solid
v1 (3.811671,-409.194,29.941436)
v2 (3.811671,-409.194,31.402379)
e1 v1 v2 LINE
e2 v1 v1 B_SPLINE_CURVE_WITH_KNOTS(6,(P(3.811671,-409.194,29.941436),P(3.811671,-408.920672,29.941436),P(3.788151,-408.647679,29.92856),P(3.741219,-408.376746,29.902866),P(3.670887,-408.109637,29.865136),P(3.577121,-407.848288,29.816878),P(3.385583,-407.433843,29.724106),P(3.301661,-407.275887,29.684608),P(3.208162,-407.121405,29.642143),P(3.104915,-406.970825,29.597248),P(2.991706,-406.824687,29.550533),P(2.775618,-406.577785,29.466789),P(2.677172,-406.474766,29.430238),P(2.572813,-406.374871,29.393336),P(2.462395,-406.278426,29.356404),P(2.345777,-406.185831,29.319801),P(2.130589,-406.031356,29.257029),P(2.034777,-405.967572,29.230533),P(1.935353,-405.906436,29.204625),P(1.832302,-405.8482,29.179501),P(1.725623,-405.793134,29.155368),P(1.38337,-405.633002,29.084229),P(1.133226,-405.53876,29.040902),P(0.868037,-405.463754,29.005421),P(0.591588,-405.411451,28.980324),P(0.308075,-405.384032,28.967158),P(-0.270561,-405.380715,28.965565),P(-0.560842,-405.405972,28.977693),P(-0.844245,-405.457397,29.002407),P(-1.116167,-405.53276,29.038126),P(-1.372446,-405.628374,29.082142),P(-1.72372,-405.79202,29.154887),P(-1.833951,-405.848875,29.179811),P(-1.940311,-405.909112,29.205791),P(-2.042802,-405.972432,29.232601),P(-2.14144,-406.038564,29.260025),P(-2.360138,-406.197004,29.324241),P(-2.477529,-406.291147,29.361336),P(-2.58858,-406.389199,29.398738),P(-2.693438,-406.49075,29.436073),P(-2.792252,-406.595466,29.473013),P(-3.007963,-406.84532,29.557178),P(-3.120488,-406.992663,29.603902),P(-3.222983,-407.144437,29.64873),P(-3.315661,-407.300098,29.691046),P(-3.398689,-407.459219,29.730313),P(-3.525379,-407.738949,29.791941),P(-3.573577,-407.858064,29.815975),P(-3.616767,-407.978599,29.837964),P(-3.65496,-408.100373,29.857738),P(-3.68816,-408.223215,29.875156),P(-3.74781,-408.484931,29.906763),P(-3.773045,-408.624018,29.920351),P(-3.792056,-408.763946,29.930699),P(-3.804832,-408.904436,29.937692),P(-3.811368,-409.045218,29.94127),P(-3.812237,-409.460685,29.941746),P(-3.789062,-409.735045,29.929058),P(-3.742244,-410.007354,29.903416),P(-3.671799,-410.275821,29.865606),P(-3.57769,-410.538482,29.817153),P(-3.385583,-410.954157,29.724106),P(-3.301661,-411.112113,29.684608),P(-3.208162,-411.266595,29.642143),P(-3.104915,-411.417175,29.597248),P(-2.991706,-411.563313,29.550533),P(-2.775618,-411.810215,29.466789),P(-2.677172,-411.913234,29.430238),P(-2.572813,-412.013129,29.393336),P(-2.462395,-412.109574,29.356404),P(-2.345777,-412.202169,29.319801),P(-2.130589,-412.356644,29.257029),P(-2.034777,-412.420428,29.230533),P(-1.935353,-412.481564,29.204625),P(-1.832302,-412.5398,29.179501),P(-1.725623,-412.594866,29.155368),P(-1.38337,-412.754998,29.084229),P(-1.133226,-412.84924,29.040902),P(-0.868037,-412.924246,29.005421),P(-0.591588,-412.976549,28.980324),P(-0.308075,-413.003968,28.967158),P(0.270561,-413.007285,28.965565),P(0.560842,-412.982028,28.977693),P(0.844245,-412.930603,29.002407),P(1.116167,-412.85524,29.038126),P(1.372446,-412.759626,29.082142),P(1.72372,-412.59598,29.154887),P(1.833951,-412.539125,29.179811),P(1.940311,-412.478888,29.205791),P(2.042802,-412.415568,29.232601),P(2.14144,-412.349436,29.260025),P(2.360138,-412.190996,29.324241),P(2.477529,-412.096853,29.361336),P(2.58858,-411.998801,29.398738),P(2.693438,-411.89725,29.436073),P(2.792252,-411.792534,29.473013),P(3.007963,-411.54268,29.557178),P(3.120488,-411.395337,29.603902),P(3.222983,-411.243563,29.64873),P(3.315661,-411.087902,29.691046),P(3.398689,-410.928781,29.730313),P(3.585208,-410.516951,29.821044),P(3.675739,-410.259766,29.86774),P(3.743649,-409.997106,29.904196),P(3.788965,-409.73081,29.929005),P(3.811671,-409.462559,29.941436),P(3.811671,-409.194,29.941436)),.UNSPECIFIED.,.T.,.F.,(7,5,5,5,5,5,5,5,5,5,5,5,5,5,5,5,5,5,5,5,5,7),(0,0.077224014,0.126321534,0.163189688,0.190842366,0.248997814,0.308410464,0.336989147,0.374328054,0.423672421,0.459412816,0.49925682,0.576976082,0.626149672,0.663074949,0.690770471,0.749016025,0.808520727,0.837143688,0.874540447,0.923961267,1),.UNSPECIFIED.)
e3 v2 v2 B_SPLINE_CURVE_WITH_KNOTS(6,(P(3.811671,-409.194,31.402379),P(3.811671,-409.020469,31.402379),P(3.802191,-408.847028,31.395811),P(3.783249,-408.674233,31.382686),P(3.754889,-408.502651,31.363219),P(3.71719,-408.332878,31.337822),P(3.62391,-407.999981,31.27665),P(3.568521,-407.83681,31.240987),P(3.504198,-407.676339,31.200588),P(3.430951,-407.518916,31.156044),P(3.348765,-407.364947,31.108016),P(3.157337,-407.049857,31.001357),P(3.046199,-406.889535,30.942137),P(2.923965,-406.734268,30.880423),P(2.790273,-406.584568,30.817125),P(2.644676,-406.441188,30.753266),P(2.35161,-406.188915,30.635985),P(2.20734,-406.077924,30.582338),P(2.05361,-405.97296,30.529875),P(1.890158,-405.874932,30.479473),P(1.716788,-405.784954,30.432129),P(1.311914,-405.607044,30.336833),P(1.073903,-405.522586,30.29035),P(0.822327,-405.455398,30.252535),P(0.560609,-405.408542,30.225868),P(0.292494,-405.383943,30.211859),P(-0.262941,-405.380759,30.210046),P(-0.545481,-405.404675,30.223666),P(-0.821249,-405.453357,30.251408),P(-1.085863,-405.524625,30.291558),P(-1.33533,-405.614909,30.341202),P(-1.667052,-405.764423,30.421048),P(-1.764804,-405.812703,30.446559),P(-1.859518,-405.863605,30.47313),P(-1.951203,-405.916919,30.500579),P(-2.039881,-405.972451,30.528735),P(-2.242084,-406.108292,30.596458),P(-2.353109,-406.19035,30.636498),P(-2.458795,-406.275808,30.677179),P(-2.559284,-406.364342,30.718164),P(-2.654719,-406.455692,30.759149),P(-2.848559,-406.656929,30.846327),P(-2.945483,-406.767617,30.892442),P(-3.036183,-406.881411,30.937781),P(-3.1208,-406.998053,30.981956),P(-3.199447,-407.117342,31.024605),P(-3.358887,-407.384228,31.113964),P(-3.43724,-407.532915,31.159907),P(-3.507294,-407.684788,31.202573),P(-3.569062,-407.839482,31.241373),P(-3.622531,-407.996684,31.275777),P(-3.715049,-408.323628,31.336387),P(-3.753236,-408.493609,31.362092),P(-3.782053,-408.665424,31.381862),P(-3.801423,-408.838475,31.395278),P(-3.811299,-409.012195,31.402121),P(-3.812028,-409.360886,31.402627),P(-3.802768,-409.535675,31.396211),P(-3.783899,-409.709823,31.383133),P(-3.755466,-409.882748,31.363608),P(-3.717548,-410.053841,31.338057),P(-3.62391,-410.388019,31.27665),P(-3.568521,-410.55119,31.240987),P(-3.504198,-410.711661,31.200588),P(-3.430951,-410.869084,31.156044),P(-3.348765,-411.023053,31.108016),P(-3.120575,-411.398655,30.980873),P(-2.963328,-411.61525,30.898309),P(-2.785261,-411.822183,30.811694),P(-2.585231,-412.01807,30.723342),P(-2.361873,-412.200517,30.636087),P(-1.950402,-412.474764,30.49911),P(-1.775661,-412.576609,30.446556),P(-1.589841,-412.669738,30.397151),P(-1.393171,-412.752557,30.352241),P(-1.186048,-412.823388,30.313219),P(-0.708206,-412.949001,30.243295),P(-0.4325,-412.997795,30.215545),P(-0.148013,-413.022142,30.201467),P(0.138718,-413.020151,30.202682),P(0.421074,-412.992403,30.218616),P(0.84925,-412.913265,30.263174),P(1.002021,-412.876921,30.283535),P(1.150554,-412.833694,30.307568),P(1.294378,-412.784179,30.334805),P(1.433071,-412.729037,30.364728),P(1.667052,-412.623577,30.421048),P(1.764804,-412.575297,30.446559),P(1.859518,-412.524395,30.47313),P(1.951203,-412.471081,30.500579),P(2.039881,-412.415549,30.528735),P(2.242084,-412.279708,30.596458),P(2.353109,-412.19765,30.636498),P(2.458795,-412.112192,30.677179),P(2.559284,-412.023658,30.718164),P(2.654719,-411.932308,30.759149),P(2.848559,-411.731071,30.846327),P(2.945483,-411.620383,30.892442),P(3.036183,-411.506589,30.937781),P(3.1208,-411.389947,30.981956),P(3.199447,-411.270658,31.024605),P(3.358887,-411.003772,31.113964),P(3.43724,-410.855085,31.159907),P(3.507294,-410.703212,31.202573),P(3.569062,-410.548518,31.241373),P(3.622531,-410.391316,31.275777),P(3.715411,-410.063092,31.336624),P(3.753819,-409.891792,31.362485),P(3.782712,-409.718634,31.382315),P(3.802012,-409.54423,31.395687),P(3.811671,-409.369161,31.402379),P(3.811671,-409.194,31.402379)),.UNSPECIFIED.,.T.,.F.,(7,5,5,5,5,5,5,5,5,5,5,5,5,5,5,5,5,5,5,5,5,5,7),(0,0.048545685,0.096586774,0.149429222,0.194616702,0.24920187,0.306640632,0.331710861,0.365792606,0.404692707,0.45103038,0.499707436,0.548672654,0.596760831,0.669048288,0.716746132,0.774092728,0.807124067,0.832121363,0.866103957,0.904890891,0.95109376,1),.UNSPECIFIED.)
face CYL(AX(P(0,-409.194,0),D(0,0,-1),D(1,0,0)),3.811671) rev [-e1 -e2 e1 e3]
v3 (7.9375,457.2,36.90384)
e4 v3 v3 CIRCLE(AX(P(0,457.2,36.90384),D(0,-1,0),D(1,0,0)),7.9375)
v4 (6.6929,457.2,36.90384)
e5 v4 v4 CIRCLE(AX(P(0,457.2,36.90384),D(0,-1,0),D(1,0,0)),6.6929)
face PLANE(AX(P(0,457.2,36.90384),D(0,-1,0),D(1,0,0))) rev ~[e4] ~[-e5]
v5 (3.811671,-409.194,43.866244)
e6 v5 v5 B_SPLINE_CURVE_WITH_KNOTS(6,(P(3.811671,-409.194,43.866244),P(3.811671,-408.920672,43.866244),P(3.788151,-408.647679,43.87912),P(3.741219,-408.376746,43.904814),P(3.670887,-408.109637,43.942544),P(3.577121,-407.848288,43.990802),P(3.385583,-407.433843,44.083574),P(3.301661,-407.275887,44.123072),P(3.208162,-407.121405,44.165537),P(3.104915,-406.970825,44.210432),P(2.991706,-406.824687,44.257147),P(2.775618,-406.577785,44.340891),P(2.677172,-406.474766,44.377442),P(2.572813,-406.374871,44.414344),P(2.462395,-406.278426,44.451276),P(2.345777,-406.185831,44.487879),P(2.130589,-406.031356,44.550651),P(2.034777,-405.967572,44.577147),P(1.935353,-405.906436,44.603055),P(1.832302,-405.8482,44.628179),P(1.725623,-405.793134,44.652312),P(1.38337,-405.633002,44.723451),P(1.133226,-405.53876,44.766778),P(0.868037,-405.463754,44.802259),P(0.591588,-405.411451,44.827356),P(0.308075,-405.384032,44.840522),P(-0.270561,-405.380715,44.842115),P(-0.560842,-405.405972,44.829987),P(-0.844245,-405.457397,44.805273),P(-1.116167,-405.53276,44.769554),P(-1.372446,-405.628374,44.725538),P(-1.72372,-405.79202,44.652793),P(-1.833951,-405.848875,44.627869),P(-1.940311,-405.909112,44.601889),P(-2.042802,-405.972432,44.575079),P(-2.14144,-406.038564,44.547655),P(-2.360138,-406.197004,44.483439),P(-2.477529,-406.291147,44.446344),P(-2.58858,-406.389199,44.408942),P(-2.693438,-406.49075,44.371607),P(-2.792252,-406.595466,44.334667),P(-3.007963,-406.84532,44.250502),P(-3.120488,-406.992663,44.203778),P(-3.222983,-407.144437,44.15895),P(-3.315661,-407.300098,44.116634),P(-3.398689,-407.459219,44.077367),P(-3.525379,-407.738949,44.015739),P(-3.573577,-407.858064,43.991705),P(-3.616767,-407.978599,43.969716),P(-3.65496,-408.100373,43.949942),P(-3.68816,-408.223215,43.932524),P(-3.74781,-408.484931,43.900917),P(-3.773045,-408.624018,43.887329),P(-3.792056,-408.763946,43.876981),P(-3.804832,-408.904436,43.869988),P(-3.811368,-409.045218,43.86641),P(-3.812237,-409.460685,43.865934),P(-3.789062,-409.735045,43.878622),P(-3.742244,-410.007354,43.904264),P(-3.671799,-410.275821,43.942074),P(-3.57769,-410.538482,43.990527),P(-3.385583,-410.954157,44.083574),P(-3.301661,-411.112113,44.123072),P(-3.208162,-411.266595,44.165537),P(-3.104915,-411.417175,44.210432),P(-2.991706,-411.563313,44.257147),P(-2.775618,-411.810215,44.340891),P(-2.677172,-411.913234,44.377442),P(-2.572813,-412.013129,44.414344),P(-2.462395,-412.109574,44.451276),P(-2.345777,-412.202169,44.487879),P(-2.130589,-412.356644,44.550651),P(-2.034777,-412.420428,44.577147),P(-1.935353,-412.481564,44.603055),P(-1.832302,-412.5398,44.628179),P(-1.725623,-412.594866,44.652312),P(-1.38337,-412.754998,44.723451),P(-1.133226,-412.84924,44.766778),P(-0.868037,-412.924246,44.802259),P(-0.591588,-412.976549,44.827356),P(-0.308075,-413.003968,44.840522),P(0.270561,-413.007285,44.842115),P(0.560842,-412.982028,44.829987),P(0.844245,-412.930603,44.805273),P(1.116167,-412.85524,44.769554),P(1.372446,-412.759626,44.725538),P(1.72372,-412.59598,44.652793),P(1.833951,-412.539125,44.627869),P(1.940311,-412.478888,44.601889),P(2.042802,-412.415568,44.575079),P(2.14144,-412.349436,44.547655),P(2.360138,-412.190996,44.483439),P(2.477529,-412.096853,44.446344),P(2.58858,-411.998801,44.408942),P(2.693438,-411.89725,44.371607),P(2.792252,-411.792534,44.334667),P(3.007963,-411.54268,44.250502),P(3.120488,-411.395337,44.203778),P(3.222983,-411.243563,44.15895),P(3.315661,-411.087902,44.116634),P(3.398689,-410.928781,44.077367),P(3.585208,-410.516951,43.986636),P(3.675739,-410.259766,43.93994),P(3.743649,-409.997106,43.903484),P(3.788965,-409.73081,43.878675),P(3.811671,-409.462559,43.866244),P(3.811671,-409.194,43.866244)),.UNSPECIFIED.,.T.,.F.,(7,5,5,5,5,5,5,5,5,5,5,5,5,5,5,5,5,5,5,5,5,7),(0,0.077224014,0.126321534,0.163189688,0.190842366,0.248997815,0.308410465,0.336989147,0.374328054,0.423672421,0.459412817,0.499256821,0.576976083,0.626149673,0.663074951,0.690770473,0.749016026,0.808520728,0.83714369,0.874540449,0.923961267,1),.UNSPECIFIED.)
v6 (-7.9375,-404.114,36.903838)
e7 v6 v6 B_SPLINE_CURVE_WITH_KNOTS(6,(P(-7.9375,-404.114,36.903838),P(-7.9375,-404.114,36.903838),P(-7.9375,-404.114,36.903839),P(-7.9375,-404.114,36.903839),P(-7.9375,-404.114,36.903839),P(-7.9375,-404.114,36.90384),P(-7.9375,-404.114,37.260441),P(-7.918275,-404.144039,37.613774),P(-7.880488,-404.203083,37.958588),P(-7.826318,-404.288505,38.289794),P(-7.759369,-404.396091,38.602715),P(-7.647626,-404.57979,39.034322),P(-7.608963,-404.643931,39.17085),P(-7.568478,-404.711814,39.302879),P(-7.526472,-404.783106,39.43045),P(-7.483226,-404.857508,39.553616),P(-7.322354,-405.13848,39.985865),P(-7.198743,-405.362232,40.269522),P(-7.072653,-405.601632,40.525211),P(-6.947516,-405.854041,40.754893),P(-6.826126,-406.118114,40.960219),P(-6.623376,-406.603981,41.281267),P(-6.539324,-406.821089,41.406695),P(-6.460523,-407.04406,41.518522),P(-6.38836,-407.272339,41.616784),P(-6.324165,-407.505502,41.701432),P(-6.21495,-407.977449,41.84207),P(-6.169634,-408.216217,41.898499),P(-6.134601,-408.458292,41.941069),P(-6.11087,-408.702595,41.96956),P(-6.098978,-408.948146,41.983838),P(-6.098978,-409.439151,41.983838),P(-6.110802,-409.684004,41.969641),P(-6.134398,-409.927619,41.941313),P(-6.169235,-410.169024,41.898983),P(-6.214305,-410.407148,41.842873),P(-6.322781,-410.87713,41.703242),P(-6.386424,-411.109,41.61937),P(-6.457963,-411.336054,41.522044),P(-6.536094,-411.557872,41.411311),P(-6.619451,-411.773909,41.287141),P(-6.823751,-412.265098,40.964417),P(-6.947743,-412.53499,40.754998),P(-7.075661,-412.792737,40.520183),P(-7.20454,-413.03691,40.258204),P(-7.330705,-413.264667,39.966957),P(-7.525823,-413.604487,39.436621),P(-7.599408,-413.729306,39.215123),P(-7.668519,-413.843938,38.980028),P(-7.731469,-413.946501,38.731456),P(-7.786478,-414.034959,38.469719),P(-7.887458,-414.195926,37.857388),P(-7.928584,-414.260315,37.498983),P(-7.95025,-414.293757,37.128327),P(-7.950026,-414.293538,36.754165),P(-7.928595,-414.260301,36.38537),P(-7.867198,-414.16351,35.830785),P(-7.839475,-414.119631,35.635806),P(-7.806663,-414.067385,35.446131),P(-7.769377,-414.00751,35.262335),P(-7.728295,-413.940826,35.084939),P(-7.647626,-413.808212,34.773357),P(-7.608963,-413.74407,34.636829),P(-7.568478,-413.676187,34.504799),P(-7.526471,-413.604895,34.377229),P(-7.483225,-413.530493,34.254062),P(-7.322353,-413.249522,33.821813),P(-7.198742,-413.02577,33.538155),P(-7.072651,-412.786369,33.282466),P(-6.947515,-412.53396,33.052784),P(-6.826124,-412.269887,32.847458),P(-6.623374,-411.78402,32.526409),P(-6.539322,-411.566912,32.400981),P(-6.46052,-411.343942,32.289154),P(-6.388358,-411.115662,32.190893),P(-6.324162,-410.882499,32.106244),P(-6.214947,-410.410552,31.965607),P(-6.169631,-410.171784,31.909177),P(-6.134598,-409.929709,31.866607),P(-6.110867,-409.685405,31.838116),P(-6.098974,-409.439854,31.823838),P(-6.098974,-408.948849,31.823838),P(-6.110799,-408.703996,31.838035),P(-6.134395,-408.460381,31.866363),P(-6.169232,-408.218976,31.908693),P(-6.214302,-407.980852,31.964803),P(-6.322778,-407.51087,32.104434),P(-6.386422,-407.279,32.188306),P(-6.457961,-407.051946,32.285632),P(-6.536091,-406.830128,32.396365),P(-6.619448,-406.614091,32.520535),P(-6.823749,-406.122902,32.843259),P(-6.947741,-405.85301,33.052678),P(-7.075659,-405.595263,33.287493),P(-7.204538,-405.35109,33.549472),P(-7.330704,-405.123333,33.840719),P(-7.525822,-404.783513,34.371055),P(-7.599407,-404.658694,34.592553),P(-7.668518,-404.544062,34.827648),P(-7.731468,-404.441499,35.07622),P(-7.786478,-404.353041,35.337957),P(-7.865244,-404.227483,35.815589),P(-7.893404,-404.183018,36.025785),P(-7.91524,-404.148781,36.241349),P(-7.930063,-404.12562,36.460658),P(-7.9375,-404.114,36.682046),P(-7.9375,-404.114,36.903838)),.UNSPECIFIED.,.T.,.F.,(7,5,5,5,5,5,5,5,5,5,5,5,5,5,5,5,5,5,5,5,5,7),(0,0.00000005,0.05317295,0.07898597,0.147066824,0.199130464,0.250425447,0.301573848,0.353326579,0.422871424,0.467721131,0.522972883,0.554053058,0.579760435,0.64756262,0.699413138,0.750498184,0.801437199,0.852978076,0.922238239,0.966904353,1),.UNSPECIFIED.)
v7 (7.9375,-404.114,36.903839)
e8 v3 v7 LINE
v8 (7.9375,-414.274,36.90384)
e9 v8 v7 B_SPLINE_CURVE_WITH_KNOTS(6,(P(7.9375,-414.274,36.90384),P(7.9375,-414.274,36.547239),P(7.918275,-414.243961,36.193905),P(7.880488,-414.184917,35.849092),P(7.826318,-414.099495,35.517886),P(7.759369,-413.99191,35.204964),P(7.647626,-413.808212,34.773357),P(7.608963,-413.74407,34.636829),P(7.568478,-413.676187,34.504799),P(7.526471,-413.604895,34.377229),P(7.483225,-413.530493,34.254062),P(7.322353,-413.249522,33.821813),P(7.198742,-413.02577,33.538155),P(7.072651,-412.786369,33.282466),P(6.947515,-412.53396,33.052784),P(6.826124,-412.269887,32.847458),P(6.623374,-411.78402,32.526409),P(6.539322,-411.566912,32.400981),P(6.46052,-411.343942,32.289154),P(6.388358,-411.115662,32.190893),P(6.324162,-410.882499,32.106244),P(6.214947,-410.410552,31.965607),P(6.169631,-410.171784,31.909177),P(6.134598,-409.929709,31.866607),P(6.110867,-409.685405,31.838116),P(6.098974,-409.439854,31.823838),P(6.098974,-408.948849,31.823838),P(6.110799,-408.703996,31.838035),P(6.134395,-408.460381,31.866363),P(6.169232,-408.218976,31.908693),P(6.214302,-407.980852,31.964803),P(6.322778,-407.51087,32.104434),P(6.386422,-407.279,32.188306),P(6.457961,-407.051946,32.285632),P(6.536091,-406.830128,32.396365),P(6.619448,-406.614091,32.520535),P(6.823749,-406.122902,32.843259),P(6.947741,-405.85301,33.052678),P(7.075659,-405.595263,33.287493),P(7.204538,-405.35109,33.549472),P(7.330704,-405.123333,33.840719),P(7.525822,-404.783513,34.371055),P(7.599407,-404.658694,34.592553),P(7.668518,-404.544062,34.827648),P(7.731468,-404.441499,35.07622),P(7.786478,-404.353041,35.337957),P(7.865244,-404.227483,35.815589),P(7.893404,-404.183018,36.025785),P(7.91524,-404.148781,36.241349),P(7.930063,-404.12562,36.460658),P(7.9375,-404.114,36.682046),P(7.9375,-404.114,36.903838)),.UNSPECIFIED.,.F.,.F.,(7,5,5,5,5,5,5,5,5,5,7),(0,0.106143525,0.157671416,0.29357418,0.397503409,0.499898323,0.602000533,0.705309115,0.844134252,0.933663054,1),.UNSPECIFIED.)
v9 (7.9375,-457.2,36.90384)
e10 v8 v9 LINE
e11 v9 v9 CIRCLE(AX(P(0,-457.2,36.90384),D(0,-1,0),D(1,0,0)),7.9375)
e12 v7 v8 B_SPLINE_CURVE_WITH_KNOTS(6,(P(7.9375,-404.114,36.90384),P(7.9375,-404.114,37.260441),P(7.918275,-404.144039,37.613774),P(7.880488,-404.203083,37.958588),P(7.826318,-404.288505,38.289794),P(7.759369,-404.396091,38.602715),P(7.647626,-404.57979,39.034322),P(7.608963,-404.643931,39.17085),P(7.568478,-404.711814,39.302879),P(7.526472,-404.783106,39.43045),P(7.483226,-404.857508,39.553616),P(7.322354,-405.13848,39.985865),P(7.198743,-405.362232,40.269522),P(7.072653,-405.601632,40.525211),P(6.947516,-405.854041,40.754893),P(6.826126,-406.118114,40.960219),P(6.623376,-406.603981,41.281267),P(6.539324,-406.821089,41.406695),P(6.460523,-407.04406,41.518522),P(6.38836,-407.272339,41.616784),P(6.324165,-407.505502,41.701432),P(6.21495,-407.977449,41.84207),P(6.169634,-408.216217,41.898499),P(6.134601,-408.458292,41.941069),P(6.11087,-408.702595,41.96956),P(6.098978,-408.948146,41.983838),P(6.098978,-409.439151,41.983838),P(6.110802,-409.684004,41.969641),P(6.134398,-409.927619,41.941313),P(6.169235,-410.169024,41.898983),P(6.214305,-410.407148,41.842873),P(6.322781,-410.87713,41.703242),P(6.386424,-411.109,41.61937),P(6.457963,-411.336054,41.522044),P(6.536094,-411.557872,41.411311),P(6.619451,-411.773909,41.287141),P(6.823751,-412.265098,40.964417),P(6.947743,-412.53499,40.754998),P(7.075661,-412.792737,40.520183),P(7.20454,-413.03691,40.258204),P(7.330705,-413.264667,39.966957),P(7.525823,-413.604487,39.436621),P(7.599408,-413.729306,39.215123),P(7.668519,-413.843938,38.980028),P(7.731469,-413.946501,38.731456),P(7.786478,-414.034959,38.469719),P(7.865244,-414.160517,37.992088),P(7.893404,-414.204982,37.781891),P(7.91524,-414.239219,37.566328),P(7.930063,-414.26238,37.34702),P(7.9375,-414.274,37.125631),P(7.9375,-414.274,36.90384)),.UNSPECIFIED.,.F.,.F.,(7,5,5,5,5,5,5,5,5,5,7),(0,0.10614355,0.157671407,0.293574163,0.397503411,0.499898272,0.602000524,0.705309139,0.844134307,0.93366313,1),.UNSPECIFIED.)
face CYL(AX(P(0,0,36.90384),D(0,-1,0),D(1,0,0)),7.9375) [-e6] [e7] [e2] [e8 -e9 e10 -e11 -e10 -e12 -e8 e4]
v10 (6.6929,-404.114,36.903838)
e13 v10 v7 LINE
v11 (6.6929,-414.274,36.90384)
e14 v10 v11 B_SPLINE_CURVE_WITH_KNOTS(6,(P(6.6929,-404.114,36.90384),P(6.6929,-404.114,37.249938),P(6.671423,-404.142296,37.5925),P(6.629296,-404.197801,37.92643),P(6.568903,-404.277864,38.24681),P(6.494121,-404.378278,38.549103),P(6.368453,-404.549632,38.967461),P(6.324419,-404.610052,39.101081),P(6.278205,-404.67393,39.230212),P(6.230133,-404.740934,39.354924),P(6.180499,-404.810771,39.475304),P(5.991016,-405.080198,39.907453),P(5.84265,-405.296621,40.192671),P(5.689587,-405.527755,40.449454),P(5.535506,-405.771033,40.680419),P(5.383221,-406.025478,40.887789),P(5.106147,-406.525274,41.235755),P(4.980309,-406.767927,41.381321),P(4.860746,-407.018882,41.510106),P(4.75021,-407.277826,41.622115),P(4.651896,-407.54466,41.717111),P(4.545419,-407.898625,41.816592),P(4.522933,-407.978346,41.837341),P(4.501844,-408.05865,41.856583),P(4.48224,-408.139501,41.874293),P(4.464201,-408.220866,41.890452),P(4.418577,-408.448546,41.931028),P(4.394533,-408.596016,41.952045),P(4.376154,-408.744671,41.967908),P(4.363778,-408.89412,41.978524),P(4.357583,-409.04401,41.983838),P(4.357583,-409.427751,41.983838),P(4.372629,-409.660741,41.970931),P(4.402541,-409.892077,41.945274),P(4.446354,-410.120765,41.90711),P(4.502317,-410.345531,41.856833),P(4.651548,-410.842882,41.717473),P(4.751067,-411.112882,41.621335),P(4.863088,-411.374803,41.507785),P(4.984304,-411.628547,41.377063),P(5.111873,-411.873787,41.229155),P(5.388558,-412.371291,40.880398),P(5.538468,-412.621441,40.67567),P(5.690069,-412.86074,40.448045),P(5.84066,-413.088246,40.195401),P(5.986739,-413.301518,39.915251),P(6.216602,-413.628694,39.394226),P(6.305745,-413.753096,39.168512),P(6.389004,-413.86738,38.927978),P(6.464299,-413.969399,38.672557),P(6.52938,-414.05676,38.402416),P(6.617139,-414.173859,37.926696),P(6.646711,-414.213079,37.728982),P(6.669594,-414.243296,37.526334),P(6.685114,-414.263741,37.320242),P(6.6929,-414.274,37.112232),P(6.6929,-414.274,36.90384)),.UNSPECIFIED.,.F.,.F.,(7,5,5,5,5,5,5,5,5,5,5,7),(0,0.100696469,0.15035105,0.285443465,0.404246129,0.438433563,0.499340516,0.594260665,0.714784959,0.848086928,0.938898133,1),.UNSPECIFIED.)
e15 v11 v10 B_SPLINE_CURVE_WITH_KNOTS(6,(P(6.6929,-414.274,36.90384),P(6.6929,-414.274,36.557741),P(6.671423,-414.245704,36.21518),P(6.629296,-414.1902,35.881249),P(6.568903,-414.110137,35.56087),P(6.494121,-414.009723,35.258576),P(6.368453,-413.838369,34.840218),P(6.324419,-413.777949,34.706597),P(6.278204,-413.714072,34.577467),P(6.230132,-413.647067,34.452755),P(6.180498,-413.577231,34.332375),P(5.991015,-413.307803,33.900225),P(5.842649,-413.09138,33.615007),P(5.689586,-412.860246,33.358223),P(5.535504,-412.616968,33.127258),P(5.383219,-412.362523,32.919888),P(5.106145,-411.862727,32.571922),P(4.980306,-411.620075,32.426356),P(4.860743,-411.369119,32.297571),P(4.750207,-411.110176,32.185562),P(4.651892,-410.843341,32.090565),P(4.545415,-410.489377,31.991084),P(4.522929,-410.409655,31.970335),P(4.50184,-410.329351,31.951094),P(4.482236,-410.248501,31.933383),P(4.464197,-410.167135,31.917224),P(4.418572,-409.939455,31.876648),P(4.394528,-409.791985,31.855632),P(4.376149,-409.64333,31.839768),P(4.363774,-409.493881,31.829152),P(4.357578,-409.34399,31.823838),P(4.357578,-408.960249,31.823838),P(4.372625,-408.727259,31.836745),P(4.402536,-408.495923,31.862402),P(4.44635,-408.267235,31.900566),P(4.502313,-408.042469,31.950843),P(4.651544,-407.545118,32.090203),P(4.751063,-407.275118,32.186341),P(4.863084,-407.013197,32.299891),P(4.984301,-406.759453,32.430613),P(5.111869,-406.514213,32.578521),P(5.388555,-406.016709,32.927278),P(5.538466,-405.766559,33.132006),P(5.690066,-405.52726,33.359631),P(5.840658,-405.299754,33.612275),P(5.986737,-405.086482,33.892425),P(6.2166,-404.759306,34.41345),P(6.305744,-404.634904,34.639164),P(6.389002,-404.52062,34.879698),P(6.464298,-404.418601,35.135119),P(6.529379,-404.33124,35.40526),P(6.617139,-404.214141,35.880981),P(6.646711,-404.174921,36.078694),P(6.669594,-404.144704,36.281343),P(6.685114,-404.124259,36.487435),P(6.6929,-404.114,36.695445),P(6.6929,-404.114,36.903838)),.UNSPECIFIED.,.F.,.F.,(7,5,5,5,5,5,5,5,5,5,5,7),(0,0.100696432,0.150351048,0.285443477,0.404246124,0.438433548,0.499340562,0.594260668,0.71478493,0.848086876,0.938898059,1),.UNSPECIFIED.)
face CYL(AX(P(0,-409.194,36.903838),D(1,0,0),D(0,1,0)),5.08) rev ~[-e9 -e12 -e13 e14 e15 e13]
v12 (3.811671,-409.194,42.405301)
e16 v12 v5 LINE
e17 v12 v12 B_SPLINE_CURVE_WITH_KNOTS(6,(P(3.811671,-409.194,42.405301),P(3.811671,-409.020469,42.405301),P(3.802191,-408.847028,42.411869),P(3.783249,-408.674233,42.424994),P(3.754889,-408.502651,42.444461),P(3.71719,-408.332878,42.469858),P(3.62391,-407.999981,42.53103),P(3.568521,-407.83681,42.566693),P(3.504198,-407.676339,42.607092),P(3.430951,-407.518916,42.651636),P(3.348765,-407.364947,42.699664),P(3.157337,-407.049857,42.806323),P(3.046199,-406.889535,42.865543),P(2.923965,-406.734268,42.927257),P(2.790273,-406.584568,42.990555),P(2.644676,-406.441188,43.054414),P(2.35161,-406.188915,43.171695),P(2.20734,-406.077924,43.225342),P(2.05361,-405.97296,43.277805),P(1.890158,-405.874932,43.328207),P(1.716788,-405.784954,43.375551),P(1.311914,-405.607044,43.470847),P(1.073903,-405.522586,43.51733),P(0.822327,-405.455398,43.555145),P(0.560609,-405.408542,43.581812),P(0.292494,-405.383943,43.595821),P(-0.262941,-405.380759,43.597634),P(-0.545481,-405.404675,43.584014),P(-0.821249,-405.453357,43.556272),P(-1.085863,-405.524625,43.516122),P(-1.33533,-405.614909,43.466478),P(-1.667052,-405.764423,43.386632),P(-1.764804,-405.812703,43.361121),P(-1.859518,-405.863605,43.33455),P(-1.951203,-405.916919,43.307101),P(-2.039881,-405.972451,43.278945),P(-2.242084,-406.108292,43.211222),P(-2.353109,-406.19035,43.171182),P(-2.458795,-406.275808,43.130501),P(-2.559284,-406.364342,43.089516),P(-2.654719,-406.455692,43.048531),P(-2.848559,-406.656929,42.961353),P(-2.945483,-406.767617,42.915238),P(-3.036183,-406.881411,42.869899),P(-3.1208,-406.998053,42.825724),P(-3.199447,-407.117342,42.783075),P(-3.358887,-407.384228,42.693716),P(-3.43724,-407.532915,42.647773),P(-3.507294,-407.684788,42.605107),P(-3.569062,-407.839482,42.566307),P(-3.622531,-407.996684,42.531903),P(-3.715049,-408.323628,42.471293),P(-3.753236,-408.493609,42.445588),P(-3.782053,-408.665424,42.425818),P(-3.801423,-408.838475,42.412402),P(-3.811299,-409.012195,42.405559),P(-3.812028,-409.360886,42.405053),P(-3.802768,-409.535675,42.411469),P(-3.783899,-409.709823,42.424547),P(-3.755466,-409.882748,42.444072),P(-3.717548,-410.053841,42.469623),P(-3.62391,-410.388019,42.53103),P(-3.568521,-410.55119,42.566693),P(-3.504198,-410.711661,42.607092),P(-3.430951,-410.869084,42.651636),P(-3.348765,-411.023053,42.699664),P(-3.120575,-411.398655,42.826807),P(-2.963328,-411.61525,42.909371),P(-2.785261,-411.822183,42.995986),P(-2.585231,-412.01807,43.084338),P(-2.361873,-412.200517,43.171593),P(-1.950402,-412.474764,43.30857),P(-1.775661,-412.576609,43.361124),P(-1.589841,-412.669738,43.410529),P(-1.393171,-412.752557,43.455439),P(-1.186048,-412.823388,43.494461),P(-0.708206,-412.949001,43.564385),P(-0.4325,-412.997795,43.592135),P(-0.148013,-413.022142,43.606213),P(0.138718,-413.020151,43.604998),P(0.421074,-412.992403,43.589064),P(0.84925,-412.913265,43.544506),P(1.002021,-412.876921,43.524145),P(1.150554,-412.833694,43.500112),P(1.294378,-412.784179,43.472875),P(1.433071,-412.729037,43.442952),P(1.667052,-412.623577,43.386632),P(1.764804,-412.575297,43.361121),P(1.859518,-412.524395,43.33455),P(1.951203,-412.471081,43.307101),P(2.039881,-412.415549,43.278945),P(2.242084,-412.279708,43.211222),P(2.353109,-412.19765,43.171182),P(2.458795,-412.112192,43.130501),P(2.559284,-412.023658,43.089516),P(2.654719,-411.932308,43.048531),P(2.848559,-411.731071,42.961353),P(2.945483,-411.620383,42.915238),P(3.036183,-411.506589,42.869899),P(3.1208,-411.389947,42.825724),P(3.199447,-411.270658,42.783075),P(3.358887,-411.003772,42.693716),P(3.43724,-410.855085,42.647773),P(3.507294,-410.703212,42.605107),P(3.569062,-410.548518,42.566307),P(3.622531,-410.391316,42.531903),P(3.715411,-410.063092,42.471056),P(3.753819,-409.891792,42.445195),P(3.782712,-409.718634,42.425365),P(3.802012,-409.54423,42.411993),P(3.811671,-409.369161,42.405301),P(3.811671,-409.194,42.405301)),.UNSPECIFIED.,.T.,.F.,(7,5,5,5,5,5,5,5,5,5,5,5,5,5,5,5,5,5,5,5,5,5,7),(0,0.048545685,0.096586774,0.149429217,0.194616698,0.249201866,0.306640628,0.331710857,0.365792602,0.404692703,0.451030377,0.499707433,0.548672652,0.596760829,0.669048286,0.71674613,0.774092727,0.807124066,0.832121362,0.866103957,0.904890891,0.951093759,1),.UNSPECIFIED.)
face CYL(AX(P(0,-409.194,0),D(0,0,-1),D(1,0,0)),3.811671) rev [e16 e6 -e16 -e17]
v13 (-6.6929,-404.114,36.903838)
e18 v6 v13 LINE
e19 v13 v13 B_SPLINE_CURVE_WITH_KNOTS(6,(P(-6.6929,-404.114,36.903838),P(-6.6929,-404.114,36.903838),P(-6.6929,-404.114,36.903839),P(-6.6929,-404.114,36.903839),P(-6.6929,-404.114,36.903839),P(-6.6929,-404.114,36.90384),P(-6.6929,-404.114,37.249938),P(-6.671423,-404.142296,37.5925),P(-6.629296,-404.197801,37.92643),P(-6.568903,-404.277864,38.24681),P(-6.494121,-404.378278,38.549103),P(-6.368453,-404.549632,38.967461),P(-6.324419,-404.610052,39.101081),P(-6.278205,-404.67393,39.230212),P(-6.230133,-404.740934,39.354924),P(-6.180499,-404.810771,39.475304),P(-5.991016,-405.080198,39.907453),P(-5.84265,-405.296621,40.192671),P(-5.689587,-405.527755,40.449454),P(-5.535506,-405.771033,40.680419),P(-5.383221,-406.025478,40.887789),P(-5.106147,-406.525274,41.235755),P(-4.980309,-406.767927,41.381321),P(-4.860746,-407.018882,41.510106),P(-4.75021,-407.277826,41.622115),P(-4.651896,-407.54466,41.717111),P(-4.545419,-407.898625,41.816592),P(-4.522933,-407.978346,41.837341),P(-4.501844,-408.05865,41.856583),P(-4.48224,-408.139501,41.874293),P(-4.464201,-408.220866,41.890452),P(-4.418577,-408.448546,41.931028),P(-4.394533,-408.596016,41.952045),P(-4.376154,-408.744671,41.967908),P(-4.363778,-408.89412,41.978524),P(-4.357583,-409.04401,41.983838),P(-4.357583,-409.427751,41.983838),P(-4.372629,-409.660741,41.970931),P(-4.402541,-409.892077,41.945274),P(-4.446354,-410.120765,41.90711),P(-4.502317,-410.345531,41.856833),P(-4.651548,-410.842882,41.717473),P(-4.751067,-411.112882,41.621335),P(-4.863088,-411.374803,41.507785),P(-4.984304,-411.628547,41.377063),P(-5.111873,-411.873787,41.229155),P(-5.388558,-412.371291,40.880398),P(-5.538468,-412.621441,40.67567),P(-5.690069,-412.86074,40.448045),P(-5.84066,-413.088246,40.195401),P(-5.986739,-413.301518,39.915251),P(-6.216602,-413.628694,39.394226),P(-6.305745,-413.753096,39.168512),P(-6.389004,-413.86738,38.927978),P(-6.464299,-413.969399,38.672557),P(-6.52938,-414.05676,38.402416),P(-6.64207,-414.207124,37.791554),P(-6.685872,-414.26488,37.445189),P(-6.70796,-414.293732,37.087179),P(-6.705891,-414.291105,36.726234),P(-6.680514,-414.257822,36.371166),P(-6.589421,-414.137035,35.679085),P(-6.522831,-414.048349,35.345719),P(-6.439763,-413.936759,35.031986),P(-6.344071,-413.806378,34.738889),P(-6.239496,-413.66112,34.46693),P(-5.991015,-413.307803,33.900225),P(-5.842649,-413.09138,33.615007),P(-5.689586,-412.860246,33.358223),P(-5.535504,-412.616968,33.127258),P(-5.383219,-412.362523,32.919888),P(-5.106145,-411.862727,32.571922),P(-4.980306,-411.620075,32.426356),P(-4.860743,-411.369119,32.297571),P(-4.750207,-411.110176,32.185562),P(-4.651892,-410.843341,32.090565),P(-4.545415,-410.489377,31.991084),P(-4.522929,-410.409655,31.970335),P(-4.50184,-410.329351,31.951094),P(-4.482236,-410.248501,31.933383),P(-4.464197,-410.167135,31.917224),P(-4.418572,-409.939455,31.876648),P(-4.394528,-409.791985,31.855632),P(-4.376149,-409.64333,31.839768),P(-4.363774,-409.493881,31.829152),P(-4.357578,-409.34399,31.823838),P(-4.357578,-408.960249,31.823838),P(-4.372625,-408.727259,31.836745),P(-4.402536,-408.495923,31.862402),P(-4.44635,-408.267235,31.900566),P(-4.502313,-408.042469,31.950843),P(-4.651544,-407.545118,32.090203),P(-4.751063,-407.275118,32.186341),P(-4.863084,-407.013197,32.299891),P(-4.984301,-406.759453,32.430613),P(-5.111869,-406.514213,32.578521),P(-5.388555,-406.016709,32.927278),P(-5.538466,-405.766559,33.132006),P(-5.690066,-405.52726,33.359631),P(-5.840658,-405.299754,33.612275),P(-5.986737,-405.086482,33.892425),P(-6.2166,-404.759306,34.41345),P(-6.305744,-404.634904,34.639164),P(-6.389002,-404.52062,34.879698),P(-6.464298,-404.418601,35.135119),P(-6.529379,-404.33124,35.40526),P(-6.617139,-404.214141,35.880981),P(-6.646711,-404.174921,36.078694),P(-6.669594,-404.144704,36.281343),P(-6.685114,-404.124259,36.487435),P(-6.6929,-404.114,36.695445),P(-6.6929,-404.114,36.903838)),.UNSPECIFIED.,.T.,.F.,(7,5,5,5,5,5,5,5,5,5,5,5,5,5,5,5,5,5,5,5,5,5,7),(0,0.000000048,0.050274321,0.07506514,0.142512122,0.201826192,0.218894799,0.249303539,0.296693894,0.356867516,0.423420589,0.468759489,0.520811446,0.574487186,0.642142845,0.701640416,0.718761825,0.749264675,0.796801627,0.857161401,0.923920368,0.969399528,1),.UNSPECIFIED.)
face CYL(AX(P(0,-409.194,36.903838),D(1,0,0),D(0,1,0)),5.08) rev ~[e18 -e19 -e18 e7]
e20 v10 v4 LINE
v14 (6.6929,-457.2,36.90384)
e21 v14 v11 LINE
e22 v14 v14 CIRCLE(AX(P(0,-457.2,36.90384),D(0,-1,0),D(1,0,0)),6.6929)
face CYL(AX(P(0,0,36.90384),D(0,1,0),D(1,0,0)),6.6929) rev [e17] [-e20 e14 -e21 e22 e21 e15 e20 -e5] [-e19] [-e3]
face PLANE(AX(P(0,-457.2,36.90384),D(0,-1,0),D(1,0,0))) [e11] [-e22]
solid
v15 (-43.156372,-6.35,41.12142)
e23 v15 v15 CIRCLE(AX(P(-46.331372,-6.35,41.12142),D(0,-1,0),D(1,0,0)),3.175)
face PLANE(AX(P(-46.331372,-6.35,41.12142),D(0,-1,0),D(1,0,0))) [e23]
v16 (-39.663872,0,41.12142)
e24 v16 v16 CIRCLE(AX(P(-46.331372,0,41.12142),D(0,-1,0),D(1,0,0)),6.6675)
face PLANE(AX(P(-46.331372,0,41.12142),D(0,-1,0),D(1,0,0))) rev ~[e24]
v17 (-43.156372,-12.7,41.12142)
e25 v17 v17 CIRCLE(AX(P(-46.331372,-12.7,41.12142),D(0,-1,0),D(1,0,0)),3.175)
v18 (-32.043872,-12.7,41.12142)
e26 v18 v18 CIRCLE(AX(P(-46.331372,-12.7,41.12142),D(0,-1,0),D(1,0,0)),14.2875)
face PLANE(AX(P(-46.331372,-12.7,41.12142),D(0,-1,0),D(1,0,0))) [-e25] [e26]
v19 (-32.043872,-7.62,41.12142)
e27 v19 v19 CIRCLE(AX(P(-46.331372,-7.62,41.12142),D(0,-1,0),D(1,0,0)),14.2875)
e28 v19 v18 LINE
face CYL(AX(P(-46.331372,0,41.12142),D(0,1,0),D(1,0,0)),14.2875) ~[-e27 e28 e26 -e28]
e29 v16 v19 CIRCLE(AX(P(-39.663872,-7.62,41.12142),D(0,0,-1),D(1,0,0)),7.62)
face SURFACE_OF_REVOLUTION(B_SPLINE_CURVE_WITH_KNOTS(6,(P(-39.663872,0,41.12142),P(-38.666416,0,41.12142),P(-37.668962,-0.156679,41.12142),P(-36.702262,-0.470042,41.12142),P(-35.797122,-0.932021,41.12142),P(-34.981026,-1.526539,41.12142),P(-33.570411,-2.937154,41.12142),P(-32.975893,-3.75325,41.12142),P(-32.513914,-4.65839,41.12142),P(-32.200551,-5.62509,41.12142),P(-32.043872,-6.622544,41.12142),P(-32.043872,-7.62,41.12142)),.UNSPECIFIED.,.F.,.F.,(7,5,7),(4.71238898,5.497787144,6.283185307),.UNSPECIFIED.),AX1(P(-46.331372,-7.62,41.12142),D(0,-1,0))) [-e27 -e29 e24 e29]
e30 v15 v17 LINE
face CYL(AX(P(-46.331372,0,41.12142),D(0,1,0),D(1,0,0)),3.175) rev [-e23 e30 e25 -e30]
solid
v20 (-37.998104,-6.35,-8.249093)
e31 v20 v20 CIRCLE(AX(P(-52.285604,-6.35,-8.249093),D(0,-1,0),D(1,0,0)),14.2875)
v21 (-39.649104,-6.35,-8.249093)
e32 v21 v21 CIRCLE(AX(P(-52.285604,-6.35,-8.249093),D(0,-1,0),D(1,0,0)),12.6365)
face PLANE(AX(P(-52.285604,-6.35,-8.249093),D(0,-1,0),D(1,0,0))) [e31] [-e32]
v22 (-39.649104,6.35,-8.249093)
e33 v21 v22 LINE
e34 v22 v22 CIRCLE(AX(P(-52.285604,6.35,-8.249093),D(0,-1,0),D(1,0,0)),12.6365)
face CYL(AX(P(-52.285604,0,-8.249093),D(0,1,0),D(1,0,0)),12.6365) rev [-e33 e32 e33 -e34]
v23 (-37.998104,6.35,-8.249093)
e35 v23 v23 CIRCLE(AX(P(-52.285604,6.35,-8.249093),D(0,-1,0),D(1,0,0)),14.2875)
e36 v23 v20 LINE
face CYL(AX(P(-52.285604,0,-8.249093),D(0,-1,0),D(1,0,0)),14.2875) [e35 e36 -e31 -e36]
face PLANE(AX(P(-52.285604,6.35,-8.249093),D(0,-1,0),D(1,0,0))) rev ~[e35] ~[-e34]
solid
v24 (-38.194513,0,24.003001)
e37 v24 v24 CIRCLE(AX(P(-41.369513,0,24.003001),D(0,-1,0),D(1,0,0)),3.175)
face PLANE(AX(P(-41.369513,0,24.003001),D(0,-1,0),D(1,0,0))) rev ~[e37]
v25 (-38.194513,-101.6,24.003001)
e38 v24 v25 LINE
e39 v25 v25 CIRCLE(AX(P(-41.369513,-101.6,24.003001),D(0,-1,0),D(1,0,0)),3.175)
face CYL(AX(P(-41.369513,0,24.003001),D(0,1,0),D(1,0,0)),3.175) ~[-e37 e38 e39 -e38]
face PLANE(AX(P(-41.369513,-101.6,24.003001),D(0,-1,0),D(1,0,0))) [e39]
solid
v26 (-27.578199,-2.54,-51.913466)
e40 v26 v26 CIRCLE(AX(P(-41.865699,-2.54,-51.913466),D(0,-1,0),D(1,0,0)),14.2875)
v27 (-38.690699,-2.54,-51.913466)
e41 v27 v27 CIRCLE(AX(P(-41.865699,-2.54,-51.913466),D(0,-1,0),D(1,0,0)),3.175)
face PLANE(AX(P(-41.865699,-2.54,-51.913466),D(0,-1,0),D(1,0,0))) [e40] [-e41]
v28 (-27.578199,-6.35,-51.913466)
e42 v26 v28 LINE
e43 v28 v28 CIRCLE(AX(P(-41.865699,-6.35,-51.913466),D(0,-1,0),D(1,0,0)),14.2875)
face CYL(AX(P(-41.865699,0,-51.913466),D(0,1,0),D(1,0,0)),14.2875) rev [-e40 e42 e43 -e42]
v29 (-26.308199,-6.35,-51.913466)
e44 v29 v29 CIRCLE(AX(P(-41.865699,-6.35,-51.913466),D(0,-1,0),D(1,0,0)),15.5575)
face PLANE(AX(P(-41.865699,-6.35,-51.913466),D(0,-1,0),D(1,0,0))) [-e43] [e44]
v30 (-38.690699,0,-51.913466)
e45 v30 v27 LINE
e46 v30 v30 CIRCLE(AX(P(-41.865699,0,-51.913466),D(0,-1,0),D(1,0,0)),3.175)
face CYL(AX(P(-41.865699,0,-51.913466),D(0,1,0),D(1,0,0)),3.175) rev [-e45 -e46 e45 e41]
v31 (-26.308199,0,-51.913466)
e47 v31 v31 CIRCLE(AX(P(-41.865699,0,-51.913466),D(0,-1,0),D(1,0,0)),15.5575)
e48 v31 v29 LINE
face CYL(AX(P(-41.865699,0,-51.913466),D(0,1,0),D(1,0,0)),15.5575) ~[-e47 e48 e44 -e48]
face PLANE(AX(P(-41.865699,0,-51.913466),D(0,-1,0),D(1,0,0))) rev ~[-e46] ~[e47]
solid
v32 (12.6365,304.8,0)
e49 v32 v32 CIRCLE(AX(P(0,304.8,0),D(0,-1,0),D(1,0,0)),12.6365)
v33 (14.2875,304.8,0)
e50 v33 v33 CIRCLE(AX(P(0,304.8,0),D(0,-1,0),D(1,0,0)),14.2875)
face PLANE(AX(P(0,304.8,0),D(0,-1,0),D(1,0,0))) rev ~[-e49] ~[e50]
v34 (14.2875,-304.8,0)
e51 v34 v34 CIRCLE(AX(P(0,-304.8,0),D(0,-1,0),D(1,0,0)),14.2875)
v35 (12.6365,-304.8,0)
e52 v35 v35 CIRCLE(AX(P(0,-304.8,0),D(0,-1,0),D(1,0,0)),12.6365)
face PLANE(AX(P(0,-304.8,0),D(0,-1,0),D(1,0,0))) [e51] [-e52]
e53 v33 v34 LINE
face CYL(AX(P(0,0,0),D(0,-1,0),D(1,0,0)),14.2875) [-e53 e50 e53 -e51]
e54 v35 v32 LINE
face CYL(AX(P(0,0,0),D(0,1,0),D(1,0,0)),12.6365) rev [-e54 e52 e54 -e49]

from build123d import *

# Parameters (mm, degrees)
F0_R      = 14.2875
F0_R_2    = 12.6365
F1_DEPTH  = 304.8
F0_R_3    = 7.9375
F0_R_4    = 6.6929
F2_DEPTH  = 457.2
F0_R_5    = 3.175
F3_DEPTH  = 12.7
F4_DEPTH  = 6.35
F5_R      = 7.62
F6_DEPTH  = 101.6
F7_DEPTH  = 6.35
F8_DEPTH  = 2.54
F0_R_6    = 15.5575
F9_DEPTH  = 6.35
F10_R     = 5.08
F11_DEPTH = 12.7
F12_R     = 3.811671
F13_DEPTH = 55.40992


with BuildPart() as f1:
    # F0 (on Front) → F1 (new body, symmetric)
    with BuildSketch(Plane.XZ):
        Circle(F0_R)
        Circle(F0_R_2, mode=Mode.SUBTRACT)
    extrude(amount=F1_DEPTH, both=True)


with BuildPart() as f2:
    # F0 (on Front) → F2 (new body, symmetric)
    with BuildSketch(Plane.XZ):
        with Locations((0, 36.90384)):
            Circle(F0_R_3)
        with Locations((0, 36.90384)):
            Circle(F0_R_4, mode=Mode.SUBTRACT)
    extrude(amount=F2_DEPTH, both=True)

    # F10 (on Right) → F11 (cut, symmetric)
    with BuildSketch(Plane.YZ):
        with Locations((-409.194, 36.903838)):
            Circle(F10_R)
    extrude(amount=F11_DEPTH, both=True, mode=Mode.SUBTRACT)

    # F12 (on Top) → F13 (cut, through all)
    with BuildSketch(Plane.XY):
        with Locations((0, -409.194)):
            Circle(F12_R)
    extrude(amount=F13_DEPTH, mode=Mode.SUBTRACT)


with BuildPart() as f3:
    # F0 (on Front) → F3 (new body)
    with BuildSketch(Plane.XZ):
        with Locations((-46.331372, 41.12142)):
            Circle(F0_R)
        with Locations((-46.331372, 41.12142)):
            Circle(F0_R_5, mode=Mode.SUBTRACT)
    extrude(amount=F3_DEPTH)

    # F0 (on Front) → F4 (join)
    with BuildSketch(Plane.XZ):
        with Locations((-46.331372, 41.12142)):
            Circle(F0_R_5)
    extrude(amount=F4_DEPTH)

    # F5
    f5_edges = [f3.edges().sort_by_distance(p)[0] for p in [
        (-60.618872, 0, 41.12142),
    ]]
    fillet(f5_edges, radius=F5_R)


with BuildPart() as f6:
    # F0 (on Front) → F6 (new body)
    with BuildSketch(Plane.XZ):
        with Locations((-41.369513, 24.003001)):
            Circle(F0_R_5)
    extrude(amount=F6_DEPTH)


with BuildPart() as f7:
    # F0 (on Front) → F7 (new body, symmetric)
    with BuildSketch(Plane.XZ):
        with Locations((-52.285604, -8.249093)):
            Circle(F0_R)
        with Locations((-52.285604, -8.249093)):
            Circle(F0_R_2, mode=Mode.SUBTRACT)
    extrude(amount=F7_DEPTH, both=True)


with BuildPart() as f8:
    # F0 (on Front) → F8 (new body)
    with BuildSketch(Plane.XZ):
        with Locations((-41.865699, -51.913466)):
            Circle(F0_R)
        with Locations((-41.865699, -51.913466)):
            Circle(F0_R_5, mode=Mode.SUBTRACT)
    extrude(amount=F8_DEPTH)

    # F0 (on Front) → F9 (join)
    with BuildSketch(Plane.XZ):
        with Locations((-41.865699, -51.913466)):
            Circle(F0_R_6)
        with Locations((-41.865699, -51.913466)):
            Circle(F0_R, mode=Mode.SUBTRACT)
    extrude(amount=F9_DEPTH)


solid = Compound([f1.part, f2.part, f3.part, f6.part, f7.part, f8.part])
